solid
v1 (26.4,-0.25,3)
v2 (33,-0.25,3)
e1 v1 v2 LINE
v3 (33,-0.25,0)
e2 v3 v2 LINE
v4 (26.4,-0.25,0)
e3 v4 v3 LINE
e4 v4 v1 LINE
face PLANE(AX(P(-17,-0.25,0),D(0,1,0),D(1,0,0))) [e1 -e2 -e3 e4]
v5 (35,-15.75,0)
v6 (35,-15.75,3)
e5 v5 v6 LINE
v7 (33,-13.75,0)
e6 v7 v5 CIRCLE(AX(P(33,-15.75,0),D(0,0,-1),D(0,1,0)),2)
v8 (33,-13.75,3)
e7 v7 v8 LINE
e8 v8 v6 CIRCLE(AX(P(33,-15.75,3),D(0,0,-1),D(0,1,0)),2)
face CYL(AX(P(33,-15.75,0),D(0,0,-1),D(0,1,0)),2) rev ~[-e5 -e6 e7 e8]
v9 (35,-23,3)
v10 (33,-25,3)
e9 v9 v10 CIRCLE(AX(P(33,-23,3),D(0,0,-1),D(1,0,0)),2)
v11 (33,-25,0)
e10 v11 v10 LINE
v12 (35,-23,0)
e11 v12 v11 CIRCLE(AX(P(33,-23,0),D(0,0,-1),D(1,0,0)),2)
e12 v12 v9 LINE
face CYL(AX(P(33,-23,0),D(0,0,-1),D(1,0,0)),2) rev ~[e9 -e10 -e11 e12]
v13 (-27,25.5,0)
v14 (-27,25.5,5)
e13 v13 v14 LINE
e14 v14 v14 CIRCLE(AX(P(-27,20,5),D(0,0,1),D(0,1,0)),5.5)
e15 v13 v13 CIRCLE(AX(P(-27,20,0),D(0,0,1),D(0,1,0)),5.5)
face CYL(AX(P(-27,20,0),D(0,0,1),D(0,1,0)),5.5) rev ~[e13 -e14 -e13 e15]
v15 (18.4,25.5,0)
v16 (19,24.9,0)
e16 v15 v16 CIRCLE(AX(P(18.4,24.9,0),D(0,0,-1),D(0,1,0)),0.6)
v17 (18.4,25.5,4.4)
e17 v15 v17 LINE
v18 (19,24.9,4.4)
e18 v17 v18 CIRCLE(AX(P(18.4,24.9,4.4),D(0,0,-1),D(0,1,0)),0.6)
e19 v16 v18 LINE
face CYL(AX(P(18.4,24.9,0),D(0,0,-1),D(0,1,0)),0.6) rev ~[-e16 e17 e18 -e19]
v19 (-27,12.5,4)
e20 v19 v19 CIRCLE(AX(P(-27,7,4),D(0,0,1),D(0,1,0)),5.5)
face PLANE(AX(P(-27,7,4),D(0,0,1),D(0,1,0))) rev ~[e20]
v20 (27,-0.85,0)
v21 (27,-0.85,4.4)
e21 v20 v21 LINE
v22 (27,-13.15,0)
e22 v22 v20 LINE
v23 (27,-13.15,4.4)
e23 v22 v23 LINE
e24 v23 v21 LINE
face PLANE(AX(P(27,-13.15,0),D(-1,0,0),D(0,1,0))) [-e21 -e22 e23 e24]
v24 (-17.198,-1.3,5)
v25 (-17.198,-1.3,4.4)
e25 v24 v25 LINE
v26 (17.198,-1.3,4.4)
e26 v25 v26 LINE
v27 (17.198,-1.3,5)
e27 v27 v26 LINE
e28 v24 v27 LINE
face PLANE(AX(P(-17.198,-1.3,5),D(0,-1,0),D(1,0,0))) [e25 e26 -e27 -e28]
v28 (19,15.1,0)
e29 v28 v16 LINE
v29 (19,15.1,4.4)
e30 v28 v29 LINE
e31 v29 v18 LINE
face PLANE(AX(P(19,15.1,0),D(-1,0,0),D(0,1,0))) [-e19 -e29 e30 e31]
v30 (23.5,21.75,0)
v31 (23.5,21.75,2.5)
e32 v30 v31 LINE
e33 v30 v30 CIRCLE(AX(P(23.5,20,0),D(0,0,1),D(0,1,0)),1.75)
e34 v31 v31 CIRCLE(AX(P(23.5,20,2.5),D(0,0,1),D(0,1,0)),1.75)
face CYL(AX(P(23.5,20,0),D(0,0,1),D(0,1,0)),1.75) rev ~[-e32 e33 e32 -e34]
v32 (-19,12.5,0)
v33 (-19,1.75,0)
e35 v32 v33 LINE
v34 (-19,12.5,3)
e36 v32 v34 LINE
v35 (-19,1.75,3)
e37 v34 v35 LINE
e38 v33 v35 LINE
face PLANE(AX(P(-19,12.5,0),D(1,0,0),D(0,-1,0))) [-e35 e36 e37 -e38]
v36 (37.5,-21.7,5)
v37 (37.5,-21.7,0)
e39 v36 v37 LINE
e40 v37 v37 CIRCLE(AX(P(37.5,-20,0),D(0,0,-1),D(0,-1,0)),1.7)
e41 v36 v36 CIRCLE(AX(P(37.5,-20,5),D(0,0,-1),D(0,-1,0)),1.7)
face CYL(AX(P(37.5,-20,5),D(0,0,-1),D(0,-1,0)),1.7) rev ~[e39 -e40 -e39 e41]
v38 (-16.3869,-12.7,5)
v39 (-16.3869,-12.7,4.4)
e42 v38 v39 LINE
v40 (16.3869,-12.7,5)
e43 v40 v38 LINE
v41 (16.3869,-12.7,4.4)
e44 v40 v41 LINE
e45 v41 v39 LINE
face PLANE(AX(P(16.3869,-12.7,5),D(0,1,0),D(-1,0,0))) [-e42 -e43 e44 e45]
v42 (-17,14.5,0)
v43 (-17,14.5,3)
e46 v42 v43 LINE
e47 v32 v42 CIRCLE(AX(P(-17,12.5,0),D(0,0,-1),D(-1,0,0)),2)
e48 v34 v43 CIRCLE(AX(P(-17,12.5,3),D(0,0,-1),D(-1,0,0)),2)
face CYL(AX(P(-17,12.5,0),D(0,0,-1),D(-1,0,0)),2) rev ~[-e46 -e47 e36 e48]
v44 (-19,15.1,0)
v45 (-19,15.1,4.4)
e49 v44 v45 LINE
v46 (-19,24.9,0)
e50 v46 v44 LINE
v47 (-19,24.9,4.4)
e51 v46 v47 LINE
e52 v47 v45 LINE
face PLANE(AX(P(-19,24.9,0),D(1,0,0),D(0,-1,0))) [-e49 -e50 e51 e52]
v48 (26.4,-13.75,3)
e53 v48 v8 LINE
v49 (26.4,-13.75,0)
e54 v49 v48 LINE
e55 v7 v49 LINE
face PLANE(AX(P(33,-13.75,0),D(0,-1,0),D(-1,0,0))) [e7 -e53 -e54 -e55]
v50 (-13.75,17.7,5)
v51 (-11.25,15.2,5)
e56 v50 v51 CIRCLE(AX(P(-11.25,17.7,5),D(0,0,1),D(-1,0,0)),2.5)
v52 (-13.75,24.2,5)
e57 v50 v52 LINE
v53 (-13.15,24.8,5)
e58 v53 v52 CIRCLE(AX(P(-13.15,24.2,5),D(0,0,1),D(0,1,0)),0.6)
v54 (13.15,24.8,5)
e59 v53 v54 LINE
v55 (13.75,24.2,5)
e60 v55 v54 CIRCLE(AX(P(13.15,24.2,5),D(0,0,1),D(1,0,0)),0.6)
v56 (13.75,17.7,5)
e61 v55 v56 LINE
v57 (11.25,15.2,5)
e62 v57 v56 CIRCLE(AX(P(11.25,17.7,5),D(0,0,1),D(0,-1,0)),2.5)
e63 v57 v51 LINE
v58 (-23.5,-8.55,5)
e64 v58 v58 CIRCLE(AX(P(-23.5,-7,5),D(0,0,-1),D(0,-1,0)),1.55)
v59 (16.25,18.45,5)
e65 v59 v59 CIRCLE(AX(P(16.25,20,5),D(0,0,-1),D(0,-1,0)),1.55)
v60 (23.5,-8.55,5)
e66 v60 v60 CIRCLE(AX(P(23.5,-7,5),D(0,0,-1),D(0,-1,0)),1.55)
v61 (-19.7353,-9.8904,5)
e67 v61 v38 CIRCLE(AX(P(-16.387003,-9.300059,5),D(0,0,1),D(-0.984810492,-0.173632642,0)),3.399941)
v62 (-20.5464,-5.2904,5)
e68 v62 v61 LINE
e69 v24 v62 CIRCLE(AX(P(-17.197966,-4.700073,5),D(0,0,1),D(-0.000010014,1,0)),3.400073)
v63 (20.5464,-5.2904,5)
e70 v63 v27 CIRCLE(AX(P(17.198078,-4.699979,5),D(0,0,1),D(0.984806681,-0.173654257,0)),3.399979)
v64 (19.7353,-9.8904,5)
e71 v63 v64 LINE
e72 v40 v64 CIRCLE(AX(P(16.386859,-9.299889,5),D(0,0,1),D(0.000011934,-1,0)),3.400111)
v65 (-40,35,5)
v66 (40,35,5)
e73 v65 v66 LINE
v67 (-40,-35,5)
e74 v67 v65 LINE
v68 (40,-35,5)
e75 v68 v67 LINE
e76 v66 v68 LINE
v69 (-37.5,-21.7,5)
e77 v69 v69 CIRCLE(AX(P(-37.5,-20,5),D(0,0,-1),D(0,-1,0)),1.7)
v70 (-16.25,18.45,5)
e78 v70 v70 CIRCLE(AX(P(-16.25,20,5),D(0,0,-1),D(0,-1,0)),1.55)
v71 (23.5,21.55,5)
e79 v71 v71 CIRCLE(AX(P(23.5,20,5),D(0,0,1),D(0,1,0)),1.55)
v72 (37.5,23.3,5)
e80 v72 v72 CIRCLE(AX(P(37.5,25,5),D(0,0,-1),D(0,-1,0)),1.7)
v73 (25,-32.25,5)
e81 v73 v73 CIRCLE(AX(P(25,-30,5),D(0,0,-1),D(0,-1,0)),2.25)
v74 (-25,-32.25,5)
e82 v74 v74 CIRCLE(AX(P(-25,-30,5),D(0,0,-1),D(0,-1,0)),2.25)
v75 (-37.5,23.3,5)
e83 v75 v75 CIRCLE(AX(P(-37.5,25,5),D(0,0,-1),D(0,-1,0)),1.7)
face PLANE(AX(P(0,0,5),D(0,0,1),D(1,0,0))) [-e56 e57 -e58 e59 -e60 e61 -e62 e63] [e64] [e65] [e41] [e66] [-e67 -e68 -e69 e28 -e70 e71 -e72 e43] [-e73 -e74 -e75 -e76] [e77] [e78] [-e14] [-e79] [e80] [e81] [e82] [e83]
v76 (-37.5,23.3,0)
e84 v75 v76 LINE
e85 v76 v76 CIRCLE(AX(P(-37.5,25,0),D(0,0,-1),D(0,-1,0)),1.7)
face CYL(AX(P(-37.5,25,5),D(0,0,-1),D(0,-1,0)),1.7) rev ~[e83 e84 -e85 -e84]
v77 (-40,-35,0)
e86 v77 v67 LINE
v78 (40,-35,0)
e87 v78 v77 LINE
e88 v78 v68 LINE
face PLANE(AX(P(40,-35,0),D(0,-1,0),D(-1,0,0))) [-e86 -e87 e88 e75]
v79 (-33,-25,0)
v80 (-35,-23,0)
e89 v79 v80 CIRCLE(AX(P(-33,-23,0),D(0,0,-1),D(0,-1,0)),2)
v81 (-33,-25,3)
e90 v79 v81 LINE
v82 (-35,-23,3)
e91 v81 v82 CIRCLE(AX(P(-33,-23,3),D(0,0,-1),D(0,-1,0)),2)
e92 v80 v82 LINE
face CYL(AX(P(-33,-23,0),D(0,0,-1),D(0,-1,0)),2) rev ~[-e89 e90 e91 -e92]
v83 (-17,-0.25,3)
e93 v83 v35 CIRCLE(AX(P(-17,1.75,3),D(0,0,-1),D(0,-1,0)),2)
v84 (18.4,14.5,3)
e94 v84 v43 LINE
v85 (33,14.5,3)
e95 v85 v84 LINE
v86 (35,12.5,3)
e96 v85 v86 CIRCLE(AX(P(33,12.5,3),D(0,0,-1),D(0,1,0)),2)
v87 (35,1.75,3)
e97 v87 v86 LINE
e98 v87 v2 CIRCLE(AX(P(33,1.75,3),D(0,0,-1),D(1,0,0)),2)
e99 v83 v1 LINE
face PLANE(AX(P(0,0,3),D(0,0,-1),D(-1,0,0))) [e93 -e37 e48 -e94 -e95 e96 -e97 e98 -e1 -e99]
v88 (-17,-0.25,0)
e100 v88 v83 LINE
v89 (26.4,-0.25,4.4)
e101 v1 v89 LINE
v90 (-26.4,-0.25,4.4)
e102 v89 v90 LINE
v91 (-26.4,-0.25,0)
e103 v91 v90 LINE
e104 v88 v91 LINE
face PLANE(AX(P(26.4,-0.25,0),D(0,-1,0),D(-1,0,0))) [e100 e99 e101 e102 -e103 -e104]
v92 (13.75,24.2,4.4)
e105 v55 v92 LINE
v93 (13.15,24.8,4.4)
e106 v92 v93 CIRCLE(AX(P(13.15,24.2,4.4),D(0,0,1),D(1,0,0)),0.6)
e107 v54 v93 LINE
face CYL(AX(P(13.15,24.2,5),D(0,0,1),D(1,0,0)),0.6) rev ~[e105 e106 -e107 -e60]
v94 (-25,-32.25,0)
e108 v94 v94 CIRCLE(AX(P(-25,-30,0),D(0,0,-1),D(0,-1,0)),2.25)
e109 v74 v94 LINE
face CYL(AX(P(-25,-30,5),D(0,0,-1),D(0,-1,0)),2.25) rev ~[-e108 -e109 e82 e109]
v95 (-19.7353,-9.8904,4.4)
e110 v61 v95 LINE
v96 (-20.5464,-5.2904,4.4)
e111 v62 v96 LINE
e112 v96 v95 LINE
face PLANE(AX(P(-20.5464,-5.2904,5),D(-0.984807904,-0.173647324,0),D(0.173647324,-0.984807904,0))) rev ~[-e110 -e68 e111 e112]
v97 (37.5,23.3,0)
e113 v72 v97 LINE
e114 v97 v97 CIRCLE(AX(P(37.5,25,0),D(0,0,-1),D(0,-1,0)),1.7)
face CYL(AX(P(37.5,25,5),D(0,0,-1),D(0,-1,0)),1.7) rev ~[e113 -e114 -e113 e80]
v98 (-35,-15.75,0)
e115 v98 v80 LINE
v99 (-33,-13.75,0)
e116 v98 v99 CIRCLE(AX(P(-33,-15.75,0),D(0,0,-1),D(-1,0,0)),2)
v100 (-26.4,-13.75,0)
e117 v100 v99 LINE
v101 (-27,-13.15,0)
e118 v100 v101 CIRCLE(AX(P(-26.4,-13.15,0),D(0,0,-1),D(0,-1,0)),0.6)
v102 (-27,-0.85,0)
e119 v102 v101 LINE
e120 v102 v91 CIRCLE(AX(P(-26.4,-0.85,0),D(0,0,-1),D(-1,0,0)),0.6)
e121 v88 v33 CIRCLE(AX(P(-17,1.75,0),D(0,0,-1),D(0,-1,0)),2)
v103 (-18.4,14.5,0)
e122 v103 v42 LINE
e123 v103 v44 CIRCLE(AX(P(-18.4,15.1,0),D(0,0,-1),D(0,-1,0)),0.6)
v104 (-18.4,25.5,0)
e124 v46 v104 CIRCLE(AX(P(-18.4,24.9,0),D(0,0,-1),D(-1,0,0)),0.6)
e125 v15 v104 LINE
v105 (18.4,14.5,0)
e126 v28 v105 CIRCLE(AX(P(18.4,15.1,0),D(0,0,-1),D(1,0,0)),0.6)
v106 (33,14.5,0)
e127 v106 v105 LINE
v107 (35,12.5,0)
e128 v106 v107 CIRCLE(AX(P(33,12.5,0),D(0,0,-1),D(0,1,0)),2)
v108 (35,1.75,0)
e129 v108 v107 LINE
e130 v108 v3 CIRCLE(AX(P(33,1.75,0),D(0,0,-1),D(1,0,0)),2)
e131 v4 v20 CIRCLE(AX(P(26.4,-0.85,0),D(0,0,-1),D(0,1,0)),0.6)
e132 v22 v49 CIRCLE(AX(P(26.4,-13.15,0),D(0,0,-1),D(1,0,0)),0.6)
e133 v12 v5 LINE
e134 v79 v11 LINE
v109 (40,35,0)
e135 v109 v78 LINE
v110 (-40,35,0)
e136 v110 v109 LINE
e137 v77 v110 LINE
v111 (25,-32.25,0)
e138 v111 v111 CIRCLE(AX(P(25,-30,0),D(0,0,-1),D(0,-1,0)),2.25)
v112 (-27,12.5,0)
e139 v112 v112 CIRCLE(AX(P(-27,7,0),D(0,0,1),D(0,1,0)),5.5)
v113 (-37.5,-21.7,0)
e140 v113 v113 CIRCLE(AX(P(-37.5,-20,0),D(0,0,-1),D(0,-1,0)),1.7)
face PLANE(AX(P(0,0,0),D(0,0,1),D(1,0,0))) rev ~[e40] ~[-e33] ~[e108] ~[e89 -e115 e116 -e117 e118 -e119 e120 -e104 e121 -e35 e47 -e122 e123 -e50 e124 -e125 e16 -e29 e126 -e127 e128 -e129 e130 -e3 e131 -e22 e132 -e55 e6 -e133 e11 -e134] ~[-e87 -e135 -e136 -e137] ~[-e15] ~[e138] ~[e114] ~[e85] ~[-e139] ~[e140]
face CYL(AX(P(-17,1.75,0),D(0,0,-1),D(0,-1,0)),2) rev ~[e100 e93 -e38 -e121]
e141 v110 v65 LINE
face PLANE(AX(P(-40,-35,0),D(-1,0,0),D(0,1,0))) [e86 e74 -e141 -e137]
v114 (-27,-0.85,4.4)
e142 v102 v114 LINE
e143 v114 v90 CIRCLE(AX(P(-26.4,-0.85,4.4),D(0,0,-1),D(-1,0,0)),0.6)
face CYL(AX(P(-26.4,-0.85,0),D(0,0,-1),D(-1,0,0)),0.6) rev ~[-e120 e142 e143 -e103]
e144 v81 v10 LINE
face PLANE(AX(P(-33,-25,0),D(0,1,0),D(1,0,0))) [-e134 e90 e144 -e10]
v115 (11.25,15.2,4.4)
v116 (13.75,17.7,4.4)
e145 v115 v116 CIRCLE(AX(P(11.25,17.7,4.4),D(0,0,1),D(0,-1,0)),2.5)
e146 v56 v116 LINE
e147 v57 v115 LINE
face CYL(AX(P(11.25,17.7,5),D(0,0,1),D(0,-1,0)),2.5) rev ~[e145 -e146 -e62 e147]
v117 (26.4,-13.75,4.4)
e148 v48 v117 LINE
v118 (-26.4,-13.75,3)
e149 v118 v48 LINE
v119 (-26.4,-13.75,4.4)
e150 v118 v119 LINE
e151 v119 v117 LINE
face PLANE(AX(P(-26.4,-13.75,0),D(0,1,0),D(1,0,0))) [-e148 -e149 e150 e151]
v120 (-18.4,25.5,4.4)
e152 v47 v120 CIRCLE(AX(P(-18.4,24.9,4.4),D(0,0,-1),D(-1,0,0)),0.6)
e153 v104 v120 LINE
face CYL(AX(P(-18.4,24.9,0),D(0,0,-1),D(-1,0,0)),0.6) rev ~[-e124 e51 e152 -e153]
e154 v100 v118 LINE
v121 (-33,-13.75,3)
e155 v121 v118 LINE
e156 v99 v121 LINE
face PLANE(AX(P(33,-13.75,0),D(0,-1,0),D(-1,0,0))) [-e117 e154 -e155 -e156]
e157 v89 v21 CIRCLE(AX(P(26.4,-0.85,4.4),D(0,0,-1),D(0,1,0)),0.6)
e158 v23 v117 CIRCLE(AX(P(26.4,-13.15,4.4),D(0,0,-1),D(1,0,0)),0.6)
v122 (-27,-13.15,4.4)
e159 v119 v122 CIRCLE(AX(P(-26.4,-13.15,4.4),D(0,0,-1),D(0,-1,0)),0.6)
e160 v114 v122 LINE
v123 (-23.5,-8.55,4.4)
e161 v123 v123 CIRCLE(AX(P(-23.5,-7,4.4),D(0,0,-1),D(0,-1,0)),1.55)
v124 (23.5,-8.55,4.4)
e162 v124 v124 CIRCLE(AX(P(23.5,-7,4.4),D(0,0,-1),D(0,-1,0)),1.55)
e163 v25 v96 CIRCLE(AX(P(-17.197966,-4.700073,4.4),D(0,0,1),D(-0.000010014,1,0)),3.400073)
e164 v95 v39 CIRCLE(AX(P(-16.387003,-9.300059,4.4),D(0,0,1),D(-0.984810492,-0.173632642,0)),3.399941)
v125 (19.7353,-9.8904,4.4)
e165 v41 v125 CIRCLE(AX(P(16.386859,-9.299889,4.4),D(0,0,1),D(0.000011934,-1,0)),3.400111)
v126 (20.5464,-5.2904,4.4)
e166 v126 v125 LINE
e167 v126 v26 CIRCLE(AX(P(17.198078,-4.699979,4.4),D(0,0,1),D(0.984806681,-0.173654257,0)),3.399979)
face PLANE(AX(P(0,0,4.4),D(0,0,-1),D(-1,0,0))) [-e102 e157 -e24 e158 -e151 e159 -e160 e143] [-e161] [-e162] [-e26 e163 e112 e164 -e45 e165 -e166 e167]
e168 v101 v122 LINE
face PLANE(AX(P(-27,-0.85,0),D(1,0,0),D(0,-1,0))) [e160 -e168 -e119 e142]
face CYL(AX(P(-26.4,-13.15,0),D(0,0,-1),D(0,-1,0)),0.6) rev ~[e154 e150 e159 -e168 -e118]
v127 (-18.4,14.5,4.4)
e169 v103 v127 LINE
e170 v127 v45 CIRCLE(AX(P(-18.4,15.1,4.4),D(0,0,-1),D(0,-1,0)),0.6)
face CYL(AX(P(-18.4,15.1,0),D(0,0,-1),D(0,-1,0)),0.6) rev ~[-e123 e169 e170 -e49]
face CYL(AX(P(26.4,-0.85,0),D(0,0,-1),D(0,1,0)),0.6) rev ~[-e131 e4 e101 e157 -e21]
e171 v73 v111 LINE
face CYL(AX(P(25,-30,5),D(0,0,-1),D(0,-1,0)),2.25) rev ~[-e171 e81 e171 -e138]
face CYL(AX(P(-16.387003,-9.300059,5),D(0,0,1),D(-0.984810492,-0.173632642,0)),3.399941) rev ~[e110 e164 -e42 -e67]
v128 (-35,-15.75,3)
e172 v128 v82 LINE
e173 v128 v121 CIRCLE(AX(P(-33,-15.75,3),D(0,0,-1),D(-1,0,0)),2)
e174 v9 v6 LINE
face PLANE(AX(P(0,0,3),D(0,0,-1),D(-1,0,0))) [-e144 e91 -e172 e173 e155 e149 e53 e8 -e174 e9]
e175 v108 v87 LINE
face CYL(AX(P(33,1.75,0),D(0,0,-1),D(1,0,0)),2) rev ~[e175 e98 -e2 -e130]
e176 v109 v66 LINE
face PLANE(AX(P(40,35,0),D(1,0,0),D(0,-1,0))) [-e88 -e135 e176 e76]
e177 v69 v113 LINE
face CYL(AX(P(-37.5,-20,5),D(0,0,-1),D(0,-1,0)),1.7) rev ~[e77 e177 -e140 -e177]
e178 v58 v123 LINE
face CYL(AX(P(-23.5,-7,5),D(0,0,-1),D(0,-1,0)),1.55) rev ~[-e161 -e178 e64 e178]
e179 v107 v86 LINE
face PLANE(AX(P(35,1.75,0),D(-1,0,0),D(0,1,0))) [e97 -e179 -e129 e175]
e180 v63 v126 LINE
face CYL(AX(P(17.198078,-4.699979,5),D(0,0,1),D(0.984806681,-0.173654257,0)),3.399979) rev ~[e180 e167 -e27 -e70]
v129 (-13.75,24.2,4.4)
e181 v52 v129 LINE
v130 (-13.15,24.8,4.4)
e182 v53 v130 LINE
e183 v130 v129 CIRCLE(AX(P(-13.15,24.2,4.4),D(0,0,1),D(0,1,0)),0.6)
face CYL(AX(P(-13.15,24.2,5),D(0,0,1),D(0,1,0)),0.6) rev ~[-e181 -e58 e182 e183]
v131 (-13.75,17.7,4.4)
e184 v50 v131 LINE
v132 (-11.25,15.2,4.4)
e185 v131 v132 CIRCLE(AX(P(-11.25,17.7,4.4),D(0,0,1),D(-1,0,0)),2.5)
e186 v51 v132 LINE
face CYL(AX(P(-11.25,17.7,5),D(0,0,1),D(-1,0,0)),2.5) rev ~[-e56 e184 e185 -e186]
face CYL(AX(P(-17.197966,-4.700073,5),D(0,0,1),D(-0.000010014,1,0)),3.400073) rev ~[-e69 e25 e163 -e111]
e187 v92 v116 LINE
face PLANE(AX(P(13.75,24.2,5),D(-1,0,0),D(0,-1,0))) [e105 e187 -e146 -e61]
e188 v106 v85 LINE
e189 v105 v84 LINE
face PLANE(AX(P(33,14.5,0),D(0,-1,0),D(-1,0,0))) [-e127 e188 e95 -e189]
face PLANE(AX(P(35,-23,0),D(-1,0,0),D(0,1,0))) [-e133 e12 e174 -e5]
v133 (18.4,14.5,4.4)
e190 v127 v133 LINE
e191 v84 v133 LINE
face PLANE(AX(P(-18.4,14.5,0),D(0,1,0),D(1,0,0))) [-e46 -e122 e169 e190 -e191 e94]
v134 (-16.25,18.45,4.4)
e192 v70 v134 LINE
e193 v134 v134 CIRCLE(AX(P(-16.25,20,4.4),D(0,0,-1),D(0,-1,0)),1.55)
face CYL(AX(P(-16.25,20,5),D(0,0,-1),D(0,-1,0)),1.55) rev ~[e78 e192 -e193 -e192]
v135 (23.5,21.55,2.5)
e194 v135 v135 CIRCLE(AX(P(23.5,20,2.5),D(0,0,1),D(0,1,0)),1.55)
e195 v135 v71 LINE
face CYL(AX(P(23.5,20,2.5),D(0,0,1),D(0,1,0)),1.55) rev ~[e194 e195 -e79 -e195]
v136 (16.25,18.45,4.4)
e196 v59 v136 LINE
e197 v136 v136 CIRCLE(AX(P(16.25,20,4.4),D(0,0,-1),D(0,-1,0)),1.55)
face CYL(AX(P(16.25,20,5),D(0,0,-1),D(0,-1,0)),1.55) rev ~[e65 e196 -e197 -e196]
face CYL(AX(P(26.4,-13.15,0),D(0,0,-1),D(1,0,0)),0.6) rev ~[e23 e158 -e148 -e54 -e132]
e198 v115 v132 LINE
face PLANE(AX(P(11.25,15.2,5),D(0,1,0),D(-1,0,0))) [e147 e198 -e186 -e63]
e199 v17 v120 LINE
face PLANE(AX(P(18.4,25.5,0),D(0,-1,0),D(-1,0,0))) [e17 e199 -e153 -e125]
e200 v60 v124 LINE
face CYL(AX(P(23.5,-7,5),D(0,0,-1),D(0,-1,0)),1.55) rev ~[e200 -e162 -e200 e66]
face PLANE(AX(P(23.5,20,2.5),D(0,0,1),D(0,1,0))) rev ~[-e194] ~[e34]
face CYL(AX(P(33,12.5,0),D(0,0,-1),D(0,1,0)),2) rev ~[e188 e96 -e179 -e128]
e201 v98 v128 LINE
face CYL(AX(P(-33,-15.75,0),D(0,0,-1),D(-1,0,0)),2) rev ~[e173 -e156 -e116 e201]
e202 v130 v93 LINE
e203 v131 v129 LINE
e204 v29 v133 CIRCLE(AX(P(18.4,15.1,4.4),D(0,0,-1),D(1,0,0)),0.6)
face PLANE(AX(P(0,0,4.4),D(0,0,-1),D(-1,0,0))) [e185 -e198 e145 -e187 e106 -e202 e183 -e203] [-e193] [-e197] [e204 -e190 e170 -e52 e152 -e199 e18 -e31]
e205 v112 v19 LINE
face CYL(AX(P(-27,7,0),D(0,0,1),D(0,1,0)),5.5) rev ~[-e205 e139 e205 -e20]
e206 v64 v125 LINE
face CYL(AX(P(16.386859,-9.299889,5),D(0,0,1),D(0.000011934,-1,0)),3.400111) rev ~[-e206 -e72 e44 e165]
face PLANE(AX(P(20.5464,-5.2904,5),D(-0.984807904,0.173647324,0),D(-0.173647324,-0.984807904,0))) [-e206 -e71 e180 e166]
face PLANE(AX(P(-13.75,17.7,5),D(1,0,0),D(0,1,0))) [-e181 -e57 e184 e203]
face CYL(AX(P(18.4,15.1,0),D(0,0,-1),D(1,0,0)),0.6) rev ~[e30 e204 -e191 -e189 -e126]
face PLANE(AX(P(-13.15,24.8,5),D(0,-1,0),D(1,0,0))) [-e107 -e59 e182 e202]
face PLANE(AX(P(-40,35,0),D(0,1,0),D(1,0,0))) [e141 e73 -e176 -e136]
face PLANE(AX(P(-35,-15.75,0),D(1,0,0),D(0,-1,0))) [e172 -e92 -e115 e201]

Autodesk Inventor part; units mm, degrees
ref_plane "YZ Plane" through (0, 0, 0) normal (1, 0, 0) x (0, 1, 0)
ref_plane "XZ Plane" through (0, 0, 0) normal (0, 1, 0) x (-1, 0, 0)
ref_plane "XY Plane" through (0, 0, 0) normal (0, 0, 1) x (1, 0, 0)
sketch "Skizze1" plane through (0, 0, 0) normal (0, 0, 1) x (1, 0, 0)
  line L0 (-40, 35) -> (40, 35)
  line L1 (40, 35) -> (40, -35)
  line L2 (40, -35) -> (-40, -35)
  line L3 (-40, -35) -> (-40, 35)
  line L4 (-40, 35) -> (40, -35) construction
  line L5 (40, 35) -> (-40, -35) construction
  point P0 (0, 0)
  dimension "d0" = 80
  dimension "d1" = 70
extrude "Extrusion1" add sketch "Skizze1" along normal blind 5
sketch "Skizze2" plane through (0, 0, 5) normal (0, 0, 1) x (1, 0, 0)
  line L0 (-37.5, 25) -> (37.5, 25)
  line L1 (37.5, 25) -> (37.5, -20)
  line L2 (37.5, -20) -> (-37.5, -20)
  line L3 (-37.5, -20) -> (-37.5, 25)
  line L4 (-40, 35) -> (-40, -35) projected
  line L5 (40, -35) -> (40, 35) projected
  line L6 (-40, -35) -> (40, -35) projected
  point P0 (0, 0)
  dimension "d4" = 2.5
  dimension "d5" = 2.5
  dimension "d6" = 15
  dimension "d7" = 60
hole "Bohrung1" at (-37.5, 25, 5) at (37.5, 25, 5) at (37.5, -20, 5) at (-37.5, -20, 5) direction (0, 0, -1) diameter 3.4 end through all clearance for "Flachkopfmaschinenschraube" size "M3" standard "ANSI Metrisches M Profil"
sketch "Skizze3" plane through (0, 0, 5) normal (0, 0, 1) x (1, 0, 0)
  line L0 (-25, -30) -> (25, -30)
  line L1 (-40, 35) -> (-40, -35) projected
  line L2 (40, -35) -> (40, 35) projected
  line L3 (-40, -35) -> (40, -35) projected
  point P0 (0, 0)
  dimension "d15" = 15
  dimension "d16" = 15
  dimension "d17" = 5
hole "Bohrung2" at (-25, -30, 5) at (25, -30, 5) direction (0, 0, -1) diameter 4.5 end through all clearance for "Flachkopfmaschinenschraube" size "M4" standard "ANSI Metrisches M Profil"
sketch "Skizze4" plane through (0, 0, 5) normal (0, 0, 1) x (1, 0, 0)
  line L0 (-13.15, 24.8) -> (13.15, 24.8)
  line L1 (13.75, 24.2) -> (13.75, 17.7)
  line L2 (11.25, 15.2) -> (-11.25, 15.2)
  line L3 (-13.75, 17.7) -> (-13.75, 24.2)
  line L4 (-13.75, 24.8) -> (13.75, 15.2) construction
  line L5 (13.75, 24.8) -> (-13.75, 15.2) construction
  line L6 (40, 35) -> (-40, 35) projected
  arc A0 (-13.15, 24.8) -> (-13.75, 24.2) centre (-13.15, 24.2) ccw
  arc A1 (13.75, 24.2) -> (13.15, 24.8) centre (13.15, 24.2) ccw
  arc A2 (-13.75, 17.7) -> (-11.25, 15.2) centre (-11.25, 17.7) ccw
  arc A3 (11.25, 15.2) -> (13.75, 17.7) centre (11.25, 17.7) ccw
  line L7 (48.751, 18.7264) -> (89.4803, 18.7264) construction
  line L8 (89.4803, 18.7264) -> (89.4803, 14.9967) construction
  line L9 (89.4803, 14.9967) -> (48.751, 14.9967) construction
  line L10 (48.751, 14.9967) -> (48.751, 18.7264) construction
  line L11 (-17.198, -1.3) -> (17.198, -1.3)
  line L12 (21.25, -1.3) -> (21.25, -1.3)
  line L13 (16.3869, -12.7) -> (-16.3869, -12.7)
  line L14 (-21.25, -1.3) -> (-21.25, -1.3)
  line L15 (-21.25, -1.3) -> (21.25, -12.7) construction
  line L16 (21.25, -1.3) -> (-21.25, -12.7) construction
  line L17 (-40, -35) -> (40, -35) projected
  line L18 (-20.5464, -5.2904) -> (-19.7353, -9.8904)
  line L19 (20.5464, -5.2904) -> (19.7353, -9.8904)
  arc A4 (-17.198, -1.3) -> (-20.5464, -5.2904) centre (-17.198, -4.7) ccw
  arc A5 (20.5464, -5.2904) -> (17.198, -1.3) centre (17.198, -4.7) ccw
  arc A6 (-19.7353, -9.8904) -> (-16.3869, -12.7) centre (-16.3869, -9.3) ccw
  arc A7 (16.3869, -12.7) -> (19.7353, -9.8904) centre (16.3869, -9.3) ccw
  line L20 (50.079, -7.9738) -> (119.9486, -7.9738) construction
  line L21 (119.9486, -7.9738) -> (119.9486, -12.597) construction
  line L22 (119.9486, -12.597) -> (50.079, -12.597) construction
  line L23 (50.079, -12.597) -> (50.079, -7.9738) construction
  line L24 (40, -35) -> (40, 35) projected
  point P0 (0, 0)
  point P1 (0, 20)
  point P2 (0, 20)
  point P3 (0, -7)
  point P4 (0, -7)
  point P5 (0, -7)
  point P6 (-19.2399, -12.7)
  point P7 (19.2399, -12.7)
  dimension "d25" = 27.5
  dimension "d26" = 9.6
  dimension "d28" = 0.6
  dimension "d29" = 2.5
  dimension "d32" = 15
  dimension "d49" = 28
  dimension "d50" = 11.4
  dimension "d51" = 42.5
  dimension "d52" = 80
  dimension "d53" = 19.2399
  dimension "d54" = 19.2399
  dimension "d55" = 80
  dimension "d56" = 3.4
  dimension "d64" = 26.25
extrude "Extrusion2" cut sketch "Skizze4" against normal through all
sketch "Skizze5" plane through (0, 0, 5) normal (0, 0, 1) x (1, 0, 0)
  line L0 (40, 35) -> (-40, 35) projected
  line L1 (0, -7) -> (23.5, -7)
  line L2 (0, -7) -> (-23.5, -7)
  line L3 (-40, -35) -> (40, -35) projected
  line L4 (-13.75, 17.7) -> (-13.75, 24.2) projected
  line L5 (13.75, 24.2) -> (13.75, 17.7) projected
  point P0 (0, 0)
  point P1 (-16.25, 20)
  point P2 (16.25, 20)
  dimension "d57" = 28
  dimension "d58" = 23.5
  dimension "d59" = 23.5
  dimension "d65" = 15
  dimension "d66" = 2.5
  dimension "d67" = 2.5
hole "Bohrung3" at (-23.5, -7, 5) at (23.5, -7, 5) at (-16.25, 20, 5) at (16.25, 20, 5) direction (0, 0, -1) diameter 3.1 end through all
sketch "Skizze6" plane through (0, 0, 0) normal (0, 0, -1) x (-1, 0, 0)
  line L0 (40, 35) -> (-40, 35) projected
  line L1 (-26.4, -0.25) -> (26.4, -0.25)
  line L2 (27, -0.85) -> (27, -13.15)
  line L3 (26.4, -13.75) -> (-26.4, -13.75)
  line L4 (-27, -13.15) -> (-27, -0.85)
  line L5 (-27, -0.25) -> (27, -13.75) construction
  line L6 (27, -0.25) -> (-27, -13.75) construction
  line L7 (-40, -35) -> (40, -35) projected
  arc A0 (-26.4, -0.25) -> (-27, -0.85) centre (-26.4, -0.85) ccw
  arc A1 (27, -0.85) -> (26.4, -0.25) centre (26.4, -0.85) ccw
  arc A2 (26.4, -13.75) -> (27, -13.15) centre (26.4, -13.15) ccw
  arc A3 (-27, -13.15) -> (-26.4, -13.75) centre (-26.4, -13.15) ccw
  circle A4 centre (-16.25, 20) radius 1.55 projected
  line L8 (-16.25, 20) -> (16.6724, 20)
  line L9 (13.15, 24.8) -> (-13.15, 24.8) projected
  line L10 (0, 24.8) -> (0, 15.2)
  line L11 (11.25, 15.2) -> (-11.25, 15.2) projected
  line L12 (-18.4, 25.5) -> (18.4, 25.5)
  line L13 (19, 24.9) -> (19, 15.1)
  line L14 (18.4, 14.5) -> (-18.4, 14.5)
  line L15 (-19, 15.1) -> (-19, 24.9)
  line L16 (-19, 25.5) -> (19, 14.5) construction
  line L17 (19, 25.5) -> (-19, 14.5) construction
  arc A5 (-18.4, 25.5) -> (-19, 24.9) centre (-18.4, 24.9) ccw
  arc A6 (19, 24.9) -> (18.4, 25.5) centre (18.4, 24.9) ccw
  arc A7 (18.4, 14.5) -> (19, 15.1) centre (18.4, 15.1) ccw
  arc A8 (-19, 15.1) -> (-18.4, 14.5) centre (-18.4, 15.1) ccw
  point P0 (0, 0)
  point P1 (0, -7)
  point P2 (0, -7)
  point P3 (0, 20)
  dimension "d60" = 28
  dimension "d61" = 13.5
  dimension "d62" = 54
  dimension "d63" = 0.6
  dimension "d68" = 11
  dimension "d69" = 38
  dimension "d70" = 0.6
extrude "Extrusion3" cut sketch "Skizze6" against normal blind 4.4
sketch "Skizze7" plane through (0, 0, 0) normal (0, 0, -1) x (-1, 0, 0)
  line L0 (40, -35) -> (40, 35) projected
  line L1 (40, 35) -> (-40, 35) projected
  point P0 (0, 0)
  point P1 (27, 20)
hole "Bohrung4" at (-27, 20, 0) direction (0, 0, 1) diameter 11 end through all
sketch "Skizze10" plane through (0, 0, 0) normal (0, 0, -1) x (-1, 0, 0)
  line L0 (40, 35) -> (-40, 35) projected
  point P0 (0, 0)
  point P1 (-23.5, 20)
  dimension "d84" = 15
  dimension "d85" = 23.5
hole "Bohrung5" at (23.5, 20, 0) direction (0, 0, 1) diameter 3.1 end through all counterbore diameter 3.5 counterbore depth 2.5
sketch "Skizze11" plane through (0, 0, 0) normal (0, 0, -1) x (-1, 0, 0)
  line L0 (40, -35) -> (40, 35) projected
  line L1 (40, 35) -> (-40, 35) projected
  point P0 (0, 0)
  point P1 (27, 7)
  dimension "d93" = 13
  dimension "d94" = 28
hole "Bohrung6" at (-27, 7, 0) direction (0, 0, 1) diameter 11 depth 4
sketch "Skizze12" plane through (0, 0, 0) normal (0, 0, -1) x (-1, 0, 0)
  arc A0 (-27, -13.15) -> (-26.4, -13.75) centre (-26.4, -13.15) ccw projected
  line L0 (-40, -35) -> (40, -35) projected
  line L1 (-33, 14.5) -> (17, 14.5)
  line L2 (19, 12.5) -> (19, 1.75)
  line L3 (17, -0.25) -> (-33, -0.25)
  line L4 (-35, 1.75) -> (-35, 12.5)
  arc A1 (-35, 1.75) -> (-33, -0.25) centre (-33, 1.75) ccw
  arc A2 (17, -0.25) -> (19, 1.75) centre (17, 1.75) ccw
  arc A3 (-33, 14.5) -> (-35, 12.5) centre (-33, 12.5) ccw
  circle A4 centre (-16.25, 20) radius 1.55 projected
  line L5 (-40, 35) -> (-40, -35) projected
  line L6 (-33, -13.75) -> (33, -13.75)
  line L7 (35, -15.75) -> (35, -23)
  line L8 (33, -25) -> (-33, -25)
  line L9 (-35, -23) -> (-35, -15.75)
  arc A5 (-33, -13.75) -> (-35, -15.75) centre (-33, -15.75) ccw
  arc A6 (-35, -23) -> (-33, -25) centre (-33, -23) ccw
  arc A7 (33, -25) -> (35, -23) centre (33, -23) ccw
  arc A8 (35, -15.75) -> (33, -13.75) centre (33, -15.75) ccw
  line L10 (40, -35) -> (40, 35) projected
  arc A9 (19, 12.5) -> (17, 14.5) centre (17, 12.5) ccw
  point P0 (0, 0)
  point P1 (27, -13.15)
  point P2 (19, 14.5)
  point P3 (-27, -0.85)
  point P4 (13.75, 17.7)
  point P5 (-11.25, 15.2)
  point P6 (19, 15.1)
  point P7 (-26.4, -0.25)
  point P8 (18.4, 14.5)
  dimension "d106" = 2
  dimension "d107" = 2
  dimension "d111" = 5
  dimension "d112" = 2
  dimension "d113" = 10
  dimension "d114" = 5
  dimension "d115" = 2
extrude "Extrusion4" cut sketch "Skizze12" against normal blind 3 contours L1 A9 L2 A2 L3 A1 L4 A3 | L6 A8 L7 A7 L8 A6 L9 A5
properties part number "Rückwand_DVI"
